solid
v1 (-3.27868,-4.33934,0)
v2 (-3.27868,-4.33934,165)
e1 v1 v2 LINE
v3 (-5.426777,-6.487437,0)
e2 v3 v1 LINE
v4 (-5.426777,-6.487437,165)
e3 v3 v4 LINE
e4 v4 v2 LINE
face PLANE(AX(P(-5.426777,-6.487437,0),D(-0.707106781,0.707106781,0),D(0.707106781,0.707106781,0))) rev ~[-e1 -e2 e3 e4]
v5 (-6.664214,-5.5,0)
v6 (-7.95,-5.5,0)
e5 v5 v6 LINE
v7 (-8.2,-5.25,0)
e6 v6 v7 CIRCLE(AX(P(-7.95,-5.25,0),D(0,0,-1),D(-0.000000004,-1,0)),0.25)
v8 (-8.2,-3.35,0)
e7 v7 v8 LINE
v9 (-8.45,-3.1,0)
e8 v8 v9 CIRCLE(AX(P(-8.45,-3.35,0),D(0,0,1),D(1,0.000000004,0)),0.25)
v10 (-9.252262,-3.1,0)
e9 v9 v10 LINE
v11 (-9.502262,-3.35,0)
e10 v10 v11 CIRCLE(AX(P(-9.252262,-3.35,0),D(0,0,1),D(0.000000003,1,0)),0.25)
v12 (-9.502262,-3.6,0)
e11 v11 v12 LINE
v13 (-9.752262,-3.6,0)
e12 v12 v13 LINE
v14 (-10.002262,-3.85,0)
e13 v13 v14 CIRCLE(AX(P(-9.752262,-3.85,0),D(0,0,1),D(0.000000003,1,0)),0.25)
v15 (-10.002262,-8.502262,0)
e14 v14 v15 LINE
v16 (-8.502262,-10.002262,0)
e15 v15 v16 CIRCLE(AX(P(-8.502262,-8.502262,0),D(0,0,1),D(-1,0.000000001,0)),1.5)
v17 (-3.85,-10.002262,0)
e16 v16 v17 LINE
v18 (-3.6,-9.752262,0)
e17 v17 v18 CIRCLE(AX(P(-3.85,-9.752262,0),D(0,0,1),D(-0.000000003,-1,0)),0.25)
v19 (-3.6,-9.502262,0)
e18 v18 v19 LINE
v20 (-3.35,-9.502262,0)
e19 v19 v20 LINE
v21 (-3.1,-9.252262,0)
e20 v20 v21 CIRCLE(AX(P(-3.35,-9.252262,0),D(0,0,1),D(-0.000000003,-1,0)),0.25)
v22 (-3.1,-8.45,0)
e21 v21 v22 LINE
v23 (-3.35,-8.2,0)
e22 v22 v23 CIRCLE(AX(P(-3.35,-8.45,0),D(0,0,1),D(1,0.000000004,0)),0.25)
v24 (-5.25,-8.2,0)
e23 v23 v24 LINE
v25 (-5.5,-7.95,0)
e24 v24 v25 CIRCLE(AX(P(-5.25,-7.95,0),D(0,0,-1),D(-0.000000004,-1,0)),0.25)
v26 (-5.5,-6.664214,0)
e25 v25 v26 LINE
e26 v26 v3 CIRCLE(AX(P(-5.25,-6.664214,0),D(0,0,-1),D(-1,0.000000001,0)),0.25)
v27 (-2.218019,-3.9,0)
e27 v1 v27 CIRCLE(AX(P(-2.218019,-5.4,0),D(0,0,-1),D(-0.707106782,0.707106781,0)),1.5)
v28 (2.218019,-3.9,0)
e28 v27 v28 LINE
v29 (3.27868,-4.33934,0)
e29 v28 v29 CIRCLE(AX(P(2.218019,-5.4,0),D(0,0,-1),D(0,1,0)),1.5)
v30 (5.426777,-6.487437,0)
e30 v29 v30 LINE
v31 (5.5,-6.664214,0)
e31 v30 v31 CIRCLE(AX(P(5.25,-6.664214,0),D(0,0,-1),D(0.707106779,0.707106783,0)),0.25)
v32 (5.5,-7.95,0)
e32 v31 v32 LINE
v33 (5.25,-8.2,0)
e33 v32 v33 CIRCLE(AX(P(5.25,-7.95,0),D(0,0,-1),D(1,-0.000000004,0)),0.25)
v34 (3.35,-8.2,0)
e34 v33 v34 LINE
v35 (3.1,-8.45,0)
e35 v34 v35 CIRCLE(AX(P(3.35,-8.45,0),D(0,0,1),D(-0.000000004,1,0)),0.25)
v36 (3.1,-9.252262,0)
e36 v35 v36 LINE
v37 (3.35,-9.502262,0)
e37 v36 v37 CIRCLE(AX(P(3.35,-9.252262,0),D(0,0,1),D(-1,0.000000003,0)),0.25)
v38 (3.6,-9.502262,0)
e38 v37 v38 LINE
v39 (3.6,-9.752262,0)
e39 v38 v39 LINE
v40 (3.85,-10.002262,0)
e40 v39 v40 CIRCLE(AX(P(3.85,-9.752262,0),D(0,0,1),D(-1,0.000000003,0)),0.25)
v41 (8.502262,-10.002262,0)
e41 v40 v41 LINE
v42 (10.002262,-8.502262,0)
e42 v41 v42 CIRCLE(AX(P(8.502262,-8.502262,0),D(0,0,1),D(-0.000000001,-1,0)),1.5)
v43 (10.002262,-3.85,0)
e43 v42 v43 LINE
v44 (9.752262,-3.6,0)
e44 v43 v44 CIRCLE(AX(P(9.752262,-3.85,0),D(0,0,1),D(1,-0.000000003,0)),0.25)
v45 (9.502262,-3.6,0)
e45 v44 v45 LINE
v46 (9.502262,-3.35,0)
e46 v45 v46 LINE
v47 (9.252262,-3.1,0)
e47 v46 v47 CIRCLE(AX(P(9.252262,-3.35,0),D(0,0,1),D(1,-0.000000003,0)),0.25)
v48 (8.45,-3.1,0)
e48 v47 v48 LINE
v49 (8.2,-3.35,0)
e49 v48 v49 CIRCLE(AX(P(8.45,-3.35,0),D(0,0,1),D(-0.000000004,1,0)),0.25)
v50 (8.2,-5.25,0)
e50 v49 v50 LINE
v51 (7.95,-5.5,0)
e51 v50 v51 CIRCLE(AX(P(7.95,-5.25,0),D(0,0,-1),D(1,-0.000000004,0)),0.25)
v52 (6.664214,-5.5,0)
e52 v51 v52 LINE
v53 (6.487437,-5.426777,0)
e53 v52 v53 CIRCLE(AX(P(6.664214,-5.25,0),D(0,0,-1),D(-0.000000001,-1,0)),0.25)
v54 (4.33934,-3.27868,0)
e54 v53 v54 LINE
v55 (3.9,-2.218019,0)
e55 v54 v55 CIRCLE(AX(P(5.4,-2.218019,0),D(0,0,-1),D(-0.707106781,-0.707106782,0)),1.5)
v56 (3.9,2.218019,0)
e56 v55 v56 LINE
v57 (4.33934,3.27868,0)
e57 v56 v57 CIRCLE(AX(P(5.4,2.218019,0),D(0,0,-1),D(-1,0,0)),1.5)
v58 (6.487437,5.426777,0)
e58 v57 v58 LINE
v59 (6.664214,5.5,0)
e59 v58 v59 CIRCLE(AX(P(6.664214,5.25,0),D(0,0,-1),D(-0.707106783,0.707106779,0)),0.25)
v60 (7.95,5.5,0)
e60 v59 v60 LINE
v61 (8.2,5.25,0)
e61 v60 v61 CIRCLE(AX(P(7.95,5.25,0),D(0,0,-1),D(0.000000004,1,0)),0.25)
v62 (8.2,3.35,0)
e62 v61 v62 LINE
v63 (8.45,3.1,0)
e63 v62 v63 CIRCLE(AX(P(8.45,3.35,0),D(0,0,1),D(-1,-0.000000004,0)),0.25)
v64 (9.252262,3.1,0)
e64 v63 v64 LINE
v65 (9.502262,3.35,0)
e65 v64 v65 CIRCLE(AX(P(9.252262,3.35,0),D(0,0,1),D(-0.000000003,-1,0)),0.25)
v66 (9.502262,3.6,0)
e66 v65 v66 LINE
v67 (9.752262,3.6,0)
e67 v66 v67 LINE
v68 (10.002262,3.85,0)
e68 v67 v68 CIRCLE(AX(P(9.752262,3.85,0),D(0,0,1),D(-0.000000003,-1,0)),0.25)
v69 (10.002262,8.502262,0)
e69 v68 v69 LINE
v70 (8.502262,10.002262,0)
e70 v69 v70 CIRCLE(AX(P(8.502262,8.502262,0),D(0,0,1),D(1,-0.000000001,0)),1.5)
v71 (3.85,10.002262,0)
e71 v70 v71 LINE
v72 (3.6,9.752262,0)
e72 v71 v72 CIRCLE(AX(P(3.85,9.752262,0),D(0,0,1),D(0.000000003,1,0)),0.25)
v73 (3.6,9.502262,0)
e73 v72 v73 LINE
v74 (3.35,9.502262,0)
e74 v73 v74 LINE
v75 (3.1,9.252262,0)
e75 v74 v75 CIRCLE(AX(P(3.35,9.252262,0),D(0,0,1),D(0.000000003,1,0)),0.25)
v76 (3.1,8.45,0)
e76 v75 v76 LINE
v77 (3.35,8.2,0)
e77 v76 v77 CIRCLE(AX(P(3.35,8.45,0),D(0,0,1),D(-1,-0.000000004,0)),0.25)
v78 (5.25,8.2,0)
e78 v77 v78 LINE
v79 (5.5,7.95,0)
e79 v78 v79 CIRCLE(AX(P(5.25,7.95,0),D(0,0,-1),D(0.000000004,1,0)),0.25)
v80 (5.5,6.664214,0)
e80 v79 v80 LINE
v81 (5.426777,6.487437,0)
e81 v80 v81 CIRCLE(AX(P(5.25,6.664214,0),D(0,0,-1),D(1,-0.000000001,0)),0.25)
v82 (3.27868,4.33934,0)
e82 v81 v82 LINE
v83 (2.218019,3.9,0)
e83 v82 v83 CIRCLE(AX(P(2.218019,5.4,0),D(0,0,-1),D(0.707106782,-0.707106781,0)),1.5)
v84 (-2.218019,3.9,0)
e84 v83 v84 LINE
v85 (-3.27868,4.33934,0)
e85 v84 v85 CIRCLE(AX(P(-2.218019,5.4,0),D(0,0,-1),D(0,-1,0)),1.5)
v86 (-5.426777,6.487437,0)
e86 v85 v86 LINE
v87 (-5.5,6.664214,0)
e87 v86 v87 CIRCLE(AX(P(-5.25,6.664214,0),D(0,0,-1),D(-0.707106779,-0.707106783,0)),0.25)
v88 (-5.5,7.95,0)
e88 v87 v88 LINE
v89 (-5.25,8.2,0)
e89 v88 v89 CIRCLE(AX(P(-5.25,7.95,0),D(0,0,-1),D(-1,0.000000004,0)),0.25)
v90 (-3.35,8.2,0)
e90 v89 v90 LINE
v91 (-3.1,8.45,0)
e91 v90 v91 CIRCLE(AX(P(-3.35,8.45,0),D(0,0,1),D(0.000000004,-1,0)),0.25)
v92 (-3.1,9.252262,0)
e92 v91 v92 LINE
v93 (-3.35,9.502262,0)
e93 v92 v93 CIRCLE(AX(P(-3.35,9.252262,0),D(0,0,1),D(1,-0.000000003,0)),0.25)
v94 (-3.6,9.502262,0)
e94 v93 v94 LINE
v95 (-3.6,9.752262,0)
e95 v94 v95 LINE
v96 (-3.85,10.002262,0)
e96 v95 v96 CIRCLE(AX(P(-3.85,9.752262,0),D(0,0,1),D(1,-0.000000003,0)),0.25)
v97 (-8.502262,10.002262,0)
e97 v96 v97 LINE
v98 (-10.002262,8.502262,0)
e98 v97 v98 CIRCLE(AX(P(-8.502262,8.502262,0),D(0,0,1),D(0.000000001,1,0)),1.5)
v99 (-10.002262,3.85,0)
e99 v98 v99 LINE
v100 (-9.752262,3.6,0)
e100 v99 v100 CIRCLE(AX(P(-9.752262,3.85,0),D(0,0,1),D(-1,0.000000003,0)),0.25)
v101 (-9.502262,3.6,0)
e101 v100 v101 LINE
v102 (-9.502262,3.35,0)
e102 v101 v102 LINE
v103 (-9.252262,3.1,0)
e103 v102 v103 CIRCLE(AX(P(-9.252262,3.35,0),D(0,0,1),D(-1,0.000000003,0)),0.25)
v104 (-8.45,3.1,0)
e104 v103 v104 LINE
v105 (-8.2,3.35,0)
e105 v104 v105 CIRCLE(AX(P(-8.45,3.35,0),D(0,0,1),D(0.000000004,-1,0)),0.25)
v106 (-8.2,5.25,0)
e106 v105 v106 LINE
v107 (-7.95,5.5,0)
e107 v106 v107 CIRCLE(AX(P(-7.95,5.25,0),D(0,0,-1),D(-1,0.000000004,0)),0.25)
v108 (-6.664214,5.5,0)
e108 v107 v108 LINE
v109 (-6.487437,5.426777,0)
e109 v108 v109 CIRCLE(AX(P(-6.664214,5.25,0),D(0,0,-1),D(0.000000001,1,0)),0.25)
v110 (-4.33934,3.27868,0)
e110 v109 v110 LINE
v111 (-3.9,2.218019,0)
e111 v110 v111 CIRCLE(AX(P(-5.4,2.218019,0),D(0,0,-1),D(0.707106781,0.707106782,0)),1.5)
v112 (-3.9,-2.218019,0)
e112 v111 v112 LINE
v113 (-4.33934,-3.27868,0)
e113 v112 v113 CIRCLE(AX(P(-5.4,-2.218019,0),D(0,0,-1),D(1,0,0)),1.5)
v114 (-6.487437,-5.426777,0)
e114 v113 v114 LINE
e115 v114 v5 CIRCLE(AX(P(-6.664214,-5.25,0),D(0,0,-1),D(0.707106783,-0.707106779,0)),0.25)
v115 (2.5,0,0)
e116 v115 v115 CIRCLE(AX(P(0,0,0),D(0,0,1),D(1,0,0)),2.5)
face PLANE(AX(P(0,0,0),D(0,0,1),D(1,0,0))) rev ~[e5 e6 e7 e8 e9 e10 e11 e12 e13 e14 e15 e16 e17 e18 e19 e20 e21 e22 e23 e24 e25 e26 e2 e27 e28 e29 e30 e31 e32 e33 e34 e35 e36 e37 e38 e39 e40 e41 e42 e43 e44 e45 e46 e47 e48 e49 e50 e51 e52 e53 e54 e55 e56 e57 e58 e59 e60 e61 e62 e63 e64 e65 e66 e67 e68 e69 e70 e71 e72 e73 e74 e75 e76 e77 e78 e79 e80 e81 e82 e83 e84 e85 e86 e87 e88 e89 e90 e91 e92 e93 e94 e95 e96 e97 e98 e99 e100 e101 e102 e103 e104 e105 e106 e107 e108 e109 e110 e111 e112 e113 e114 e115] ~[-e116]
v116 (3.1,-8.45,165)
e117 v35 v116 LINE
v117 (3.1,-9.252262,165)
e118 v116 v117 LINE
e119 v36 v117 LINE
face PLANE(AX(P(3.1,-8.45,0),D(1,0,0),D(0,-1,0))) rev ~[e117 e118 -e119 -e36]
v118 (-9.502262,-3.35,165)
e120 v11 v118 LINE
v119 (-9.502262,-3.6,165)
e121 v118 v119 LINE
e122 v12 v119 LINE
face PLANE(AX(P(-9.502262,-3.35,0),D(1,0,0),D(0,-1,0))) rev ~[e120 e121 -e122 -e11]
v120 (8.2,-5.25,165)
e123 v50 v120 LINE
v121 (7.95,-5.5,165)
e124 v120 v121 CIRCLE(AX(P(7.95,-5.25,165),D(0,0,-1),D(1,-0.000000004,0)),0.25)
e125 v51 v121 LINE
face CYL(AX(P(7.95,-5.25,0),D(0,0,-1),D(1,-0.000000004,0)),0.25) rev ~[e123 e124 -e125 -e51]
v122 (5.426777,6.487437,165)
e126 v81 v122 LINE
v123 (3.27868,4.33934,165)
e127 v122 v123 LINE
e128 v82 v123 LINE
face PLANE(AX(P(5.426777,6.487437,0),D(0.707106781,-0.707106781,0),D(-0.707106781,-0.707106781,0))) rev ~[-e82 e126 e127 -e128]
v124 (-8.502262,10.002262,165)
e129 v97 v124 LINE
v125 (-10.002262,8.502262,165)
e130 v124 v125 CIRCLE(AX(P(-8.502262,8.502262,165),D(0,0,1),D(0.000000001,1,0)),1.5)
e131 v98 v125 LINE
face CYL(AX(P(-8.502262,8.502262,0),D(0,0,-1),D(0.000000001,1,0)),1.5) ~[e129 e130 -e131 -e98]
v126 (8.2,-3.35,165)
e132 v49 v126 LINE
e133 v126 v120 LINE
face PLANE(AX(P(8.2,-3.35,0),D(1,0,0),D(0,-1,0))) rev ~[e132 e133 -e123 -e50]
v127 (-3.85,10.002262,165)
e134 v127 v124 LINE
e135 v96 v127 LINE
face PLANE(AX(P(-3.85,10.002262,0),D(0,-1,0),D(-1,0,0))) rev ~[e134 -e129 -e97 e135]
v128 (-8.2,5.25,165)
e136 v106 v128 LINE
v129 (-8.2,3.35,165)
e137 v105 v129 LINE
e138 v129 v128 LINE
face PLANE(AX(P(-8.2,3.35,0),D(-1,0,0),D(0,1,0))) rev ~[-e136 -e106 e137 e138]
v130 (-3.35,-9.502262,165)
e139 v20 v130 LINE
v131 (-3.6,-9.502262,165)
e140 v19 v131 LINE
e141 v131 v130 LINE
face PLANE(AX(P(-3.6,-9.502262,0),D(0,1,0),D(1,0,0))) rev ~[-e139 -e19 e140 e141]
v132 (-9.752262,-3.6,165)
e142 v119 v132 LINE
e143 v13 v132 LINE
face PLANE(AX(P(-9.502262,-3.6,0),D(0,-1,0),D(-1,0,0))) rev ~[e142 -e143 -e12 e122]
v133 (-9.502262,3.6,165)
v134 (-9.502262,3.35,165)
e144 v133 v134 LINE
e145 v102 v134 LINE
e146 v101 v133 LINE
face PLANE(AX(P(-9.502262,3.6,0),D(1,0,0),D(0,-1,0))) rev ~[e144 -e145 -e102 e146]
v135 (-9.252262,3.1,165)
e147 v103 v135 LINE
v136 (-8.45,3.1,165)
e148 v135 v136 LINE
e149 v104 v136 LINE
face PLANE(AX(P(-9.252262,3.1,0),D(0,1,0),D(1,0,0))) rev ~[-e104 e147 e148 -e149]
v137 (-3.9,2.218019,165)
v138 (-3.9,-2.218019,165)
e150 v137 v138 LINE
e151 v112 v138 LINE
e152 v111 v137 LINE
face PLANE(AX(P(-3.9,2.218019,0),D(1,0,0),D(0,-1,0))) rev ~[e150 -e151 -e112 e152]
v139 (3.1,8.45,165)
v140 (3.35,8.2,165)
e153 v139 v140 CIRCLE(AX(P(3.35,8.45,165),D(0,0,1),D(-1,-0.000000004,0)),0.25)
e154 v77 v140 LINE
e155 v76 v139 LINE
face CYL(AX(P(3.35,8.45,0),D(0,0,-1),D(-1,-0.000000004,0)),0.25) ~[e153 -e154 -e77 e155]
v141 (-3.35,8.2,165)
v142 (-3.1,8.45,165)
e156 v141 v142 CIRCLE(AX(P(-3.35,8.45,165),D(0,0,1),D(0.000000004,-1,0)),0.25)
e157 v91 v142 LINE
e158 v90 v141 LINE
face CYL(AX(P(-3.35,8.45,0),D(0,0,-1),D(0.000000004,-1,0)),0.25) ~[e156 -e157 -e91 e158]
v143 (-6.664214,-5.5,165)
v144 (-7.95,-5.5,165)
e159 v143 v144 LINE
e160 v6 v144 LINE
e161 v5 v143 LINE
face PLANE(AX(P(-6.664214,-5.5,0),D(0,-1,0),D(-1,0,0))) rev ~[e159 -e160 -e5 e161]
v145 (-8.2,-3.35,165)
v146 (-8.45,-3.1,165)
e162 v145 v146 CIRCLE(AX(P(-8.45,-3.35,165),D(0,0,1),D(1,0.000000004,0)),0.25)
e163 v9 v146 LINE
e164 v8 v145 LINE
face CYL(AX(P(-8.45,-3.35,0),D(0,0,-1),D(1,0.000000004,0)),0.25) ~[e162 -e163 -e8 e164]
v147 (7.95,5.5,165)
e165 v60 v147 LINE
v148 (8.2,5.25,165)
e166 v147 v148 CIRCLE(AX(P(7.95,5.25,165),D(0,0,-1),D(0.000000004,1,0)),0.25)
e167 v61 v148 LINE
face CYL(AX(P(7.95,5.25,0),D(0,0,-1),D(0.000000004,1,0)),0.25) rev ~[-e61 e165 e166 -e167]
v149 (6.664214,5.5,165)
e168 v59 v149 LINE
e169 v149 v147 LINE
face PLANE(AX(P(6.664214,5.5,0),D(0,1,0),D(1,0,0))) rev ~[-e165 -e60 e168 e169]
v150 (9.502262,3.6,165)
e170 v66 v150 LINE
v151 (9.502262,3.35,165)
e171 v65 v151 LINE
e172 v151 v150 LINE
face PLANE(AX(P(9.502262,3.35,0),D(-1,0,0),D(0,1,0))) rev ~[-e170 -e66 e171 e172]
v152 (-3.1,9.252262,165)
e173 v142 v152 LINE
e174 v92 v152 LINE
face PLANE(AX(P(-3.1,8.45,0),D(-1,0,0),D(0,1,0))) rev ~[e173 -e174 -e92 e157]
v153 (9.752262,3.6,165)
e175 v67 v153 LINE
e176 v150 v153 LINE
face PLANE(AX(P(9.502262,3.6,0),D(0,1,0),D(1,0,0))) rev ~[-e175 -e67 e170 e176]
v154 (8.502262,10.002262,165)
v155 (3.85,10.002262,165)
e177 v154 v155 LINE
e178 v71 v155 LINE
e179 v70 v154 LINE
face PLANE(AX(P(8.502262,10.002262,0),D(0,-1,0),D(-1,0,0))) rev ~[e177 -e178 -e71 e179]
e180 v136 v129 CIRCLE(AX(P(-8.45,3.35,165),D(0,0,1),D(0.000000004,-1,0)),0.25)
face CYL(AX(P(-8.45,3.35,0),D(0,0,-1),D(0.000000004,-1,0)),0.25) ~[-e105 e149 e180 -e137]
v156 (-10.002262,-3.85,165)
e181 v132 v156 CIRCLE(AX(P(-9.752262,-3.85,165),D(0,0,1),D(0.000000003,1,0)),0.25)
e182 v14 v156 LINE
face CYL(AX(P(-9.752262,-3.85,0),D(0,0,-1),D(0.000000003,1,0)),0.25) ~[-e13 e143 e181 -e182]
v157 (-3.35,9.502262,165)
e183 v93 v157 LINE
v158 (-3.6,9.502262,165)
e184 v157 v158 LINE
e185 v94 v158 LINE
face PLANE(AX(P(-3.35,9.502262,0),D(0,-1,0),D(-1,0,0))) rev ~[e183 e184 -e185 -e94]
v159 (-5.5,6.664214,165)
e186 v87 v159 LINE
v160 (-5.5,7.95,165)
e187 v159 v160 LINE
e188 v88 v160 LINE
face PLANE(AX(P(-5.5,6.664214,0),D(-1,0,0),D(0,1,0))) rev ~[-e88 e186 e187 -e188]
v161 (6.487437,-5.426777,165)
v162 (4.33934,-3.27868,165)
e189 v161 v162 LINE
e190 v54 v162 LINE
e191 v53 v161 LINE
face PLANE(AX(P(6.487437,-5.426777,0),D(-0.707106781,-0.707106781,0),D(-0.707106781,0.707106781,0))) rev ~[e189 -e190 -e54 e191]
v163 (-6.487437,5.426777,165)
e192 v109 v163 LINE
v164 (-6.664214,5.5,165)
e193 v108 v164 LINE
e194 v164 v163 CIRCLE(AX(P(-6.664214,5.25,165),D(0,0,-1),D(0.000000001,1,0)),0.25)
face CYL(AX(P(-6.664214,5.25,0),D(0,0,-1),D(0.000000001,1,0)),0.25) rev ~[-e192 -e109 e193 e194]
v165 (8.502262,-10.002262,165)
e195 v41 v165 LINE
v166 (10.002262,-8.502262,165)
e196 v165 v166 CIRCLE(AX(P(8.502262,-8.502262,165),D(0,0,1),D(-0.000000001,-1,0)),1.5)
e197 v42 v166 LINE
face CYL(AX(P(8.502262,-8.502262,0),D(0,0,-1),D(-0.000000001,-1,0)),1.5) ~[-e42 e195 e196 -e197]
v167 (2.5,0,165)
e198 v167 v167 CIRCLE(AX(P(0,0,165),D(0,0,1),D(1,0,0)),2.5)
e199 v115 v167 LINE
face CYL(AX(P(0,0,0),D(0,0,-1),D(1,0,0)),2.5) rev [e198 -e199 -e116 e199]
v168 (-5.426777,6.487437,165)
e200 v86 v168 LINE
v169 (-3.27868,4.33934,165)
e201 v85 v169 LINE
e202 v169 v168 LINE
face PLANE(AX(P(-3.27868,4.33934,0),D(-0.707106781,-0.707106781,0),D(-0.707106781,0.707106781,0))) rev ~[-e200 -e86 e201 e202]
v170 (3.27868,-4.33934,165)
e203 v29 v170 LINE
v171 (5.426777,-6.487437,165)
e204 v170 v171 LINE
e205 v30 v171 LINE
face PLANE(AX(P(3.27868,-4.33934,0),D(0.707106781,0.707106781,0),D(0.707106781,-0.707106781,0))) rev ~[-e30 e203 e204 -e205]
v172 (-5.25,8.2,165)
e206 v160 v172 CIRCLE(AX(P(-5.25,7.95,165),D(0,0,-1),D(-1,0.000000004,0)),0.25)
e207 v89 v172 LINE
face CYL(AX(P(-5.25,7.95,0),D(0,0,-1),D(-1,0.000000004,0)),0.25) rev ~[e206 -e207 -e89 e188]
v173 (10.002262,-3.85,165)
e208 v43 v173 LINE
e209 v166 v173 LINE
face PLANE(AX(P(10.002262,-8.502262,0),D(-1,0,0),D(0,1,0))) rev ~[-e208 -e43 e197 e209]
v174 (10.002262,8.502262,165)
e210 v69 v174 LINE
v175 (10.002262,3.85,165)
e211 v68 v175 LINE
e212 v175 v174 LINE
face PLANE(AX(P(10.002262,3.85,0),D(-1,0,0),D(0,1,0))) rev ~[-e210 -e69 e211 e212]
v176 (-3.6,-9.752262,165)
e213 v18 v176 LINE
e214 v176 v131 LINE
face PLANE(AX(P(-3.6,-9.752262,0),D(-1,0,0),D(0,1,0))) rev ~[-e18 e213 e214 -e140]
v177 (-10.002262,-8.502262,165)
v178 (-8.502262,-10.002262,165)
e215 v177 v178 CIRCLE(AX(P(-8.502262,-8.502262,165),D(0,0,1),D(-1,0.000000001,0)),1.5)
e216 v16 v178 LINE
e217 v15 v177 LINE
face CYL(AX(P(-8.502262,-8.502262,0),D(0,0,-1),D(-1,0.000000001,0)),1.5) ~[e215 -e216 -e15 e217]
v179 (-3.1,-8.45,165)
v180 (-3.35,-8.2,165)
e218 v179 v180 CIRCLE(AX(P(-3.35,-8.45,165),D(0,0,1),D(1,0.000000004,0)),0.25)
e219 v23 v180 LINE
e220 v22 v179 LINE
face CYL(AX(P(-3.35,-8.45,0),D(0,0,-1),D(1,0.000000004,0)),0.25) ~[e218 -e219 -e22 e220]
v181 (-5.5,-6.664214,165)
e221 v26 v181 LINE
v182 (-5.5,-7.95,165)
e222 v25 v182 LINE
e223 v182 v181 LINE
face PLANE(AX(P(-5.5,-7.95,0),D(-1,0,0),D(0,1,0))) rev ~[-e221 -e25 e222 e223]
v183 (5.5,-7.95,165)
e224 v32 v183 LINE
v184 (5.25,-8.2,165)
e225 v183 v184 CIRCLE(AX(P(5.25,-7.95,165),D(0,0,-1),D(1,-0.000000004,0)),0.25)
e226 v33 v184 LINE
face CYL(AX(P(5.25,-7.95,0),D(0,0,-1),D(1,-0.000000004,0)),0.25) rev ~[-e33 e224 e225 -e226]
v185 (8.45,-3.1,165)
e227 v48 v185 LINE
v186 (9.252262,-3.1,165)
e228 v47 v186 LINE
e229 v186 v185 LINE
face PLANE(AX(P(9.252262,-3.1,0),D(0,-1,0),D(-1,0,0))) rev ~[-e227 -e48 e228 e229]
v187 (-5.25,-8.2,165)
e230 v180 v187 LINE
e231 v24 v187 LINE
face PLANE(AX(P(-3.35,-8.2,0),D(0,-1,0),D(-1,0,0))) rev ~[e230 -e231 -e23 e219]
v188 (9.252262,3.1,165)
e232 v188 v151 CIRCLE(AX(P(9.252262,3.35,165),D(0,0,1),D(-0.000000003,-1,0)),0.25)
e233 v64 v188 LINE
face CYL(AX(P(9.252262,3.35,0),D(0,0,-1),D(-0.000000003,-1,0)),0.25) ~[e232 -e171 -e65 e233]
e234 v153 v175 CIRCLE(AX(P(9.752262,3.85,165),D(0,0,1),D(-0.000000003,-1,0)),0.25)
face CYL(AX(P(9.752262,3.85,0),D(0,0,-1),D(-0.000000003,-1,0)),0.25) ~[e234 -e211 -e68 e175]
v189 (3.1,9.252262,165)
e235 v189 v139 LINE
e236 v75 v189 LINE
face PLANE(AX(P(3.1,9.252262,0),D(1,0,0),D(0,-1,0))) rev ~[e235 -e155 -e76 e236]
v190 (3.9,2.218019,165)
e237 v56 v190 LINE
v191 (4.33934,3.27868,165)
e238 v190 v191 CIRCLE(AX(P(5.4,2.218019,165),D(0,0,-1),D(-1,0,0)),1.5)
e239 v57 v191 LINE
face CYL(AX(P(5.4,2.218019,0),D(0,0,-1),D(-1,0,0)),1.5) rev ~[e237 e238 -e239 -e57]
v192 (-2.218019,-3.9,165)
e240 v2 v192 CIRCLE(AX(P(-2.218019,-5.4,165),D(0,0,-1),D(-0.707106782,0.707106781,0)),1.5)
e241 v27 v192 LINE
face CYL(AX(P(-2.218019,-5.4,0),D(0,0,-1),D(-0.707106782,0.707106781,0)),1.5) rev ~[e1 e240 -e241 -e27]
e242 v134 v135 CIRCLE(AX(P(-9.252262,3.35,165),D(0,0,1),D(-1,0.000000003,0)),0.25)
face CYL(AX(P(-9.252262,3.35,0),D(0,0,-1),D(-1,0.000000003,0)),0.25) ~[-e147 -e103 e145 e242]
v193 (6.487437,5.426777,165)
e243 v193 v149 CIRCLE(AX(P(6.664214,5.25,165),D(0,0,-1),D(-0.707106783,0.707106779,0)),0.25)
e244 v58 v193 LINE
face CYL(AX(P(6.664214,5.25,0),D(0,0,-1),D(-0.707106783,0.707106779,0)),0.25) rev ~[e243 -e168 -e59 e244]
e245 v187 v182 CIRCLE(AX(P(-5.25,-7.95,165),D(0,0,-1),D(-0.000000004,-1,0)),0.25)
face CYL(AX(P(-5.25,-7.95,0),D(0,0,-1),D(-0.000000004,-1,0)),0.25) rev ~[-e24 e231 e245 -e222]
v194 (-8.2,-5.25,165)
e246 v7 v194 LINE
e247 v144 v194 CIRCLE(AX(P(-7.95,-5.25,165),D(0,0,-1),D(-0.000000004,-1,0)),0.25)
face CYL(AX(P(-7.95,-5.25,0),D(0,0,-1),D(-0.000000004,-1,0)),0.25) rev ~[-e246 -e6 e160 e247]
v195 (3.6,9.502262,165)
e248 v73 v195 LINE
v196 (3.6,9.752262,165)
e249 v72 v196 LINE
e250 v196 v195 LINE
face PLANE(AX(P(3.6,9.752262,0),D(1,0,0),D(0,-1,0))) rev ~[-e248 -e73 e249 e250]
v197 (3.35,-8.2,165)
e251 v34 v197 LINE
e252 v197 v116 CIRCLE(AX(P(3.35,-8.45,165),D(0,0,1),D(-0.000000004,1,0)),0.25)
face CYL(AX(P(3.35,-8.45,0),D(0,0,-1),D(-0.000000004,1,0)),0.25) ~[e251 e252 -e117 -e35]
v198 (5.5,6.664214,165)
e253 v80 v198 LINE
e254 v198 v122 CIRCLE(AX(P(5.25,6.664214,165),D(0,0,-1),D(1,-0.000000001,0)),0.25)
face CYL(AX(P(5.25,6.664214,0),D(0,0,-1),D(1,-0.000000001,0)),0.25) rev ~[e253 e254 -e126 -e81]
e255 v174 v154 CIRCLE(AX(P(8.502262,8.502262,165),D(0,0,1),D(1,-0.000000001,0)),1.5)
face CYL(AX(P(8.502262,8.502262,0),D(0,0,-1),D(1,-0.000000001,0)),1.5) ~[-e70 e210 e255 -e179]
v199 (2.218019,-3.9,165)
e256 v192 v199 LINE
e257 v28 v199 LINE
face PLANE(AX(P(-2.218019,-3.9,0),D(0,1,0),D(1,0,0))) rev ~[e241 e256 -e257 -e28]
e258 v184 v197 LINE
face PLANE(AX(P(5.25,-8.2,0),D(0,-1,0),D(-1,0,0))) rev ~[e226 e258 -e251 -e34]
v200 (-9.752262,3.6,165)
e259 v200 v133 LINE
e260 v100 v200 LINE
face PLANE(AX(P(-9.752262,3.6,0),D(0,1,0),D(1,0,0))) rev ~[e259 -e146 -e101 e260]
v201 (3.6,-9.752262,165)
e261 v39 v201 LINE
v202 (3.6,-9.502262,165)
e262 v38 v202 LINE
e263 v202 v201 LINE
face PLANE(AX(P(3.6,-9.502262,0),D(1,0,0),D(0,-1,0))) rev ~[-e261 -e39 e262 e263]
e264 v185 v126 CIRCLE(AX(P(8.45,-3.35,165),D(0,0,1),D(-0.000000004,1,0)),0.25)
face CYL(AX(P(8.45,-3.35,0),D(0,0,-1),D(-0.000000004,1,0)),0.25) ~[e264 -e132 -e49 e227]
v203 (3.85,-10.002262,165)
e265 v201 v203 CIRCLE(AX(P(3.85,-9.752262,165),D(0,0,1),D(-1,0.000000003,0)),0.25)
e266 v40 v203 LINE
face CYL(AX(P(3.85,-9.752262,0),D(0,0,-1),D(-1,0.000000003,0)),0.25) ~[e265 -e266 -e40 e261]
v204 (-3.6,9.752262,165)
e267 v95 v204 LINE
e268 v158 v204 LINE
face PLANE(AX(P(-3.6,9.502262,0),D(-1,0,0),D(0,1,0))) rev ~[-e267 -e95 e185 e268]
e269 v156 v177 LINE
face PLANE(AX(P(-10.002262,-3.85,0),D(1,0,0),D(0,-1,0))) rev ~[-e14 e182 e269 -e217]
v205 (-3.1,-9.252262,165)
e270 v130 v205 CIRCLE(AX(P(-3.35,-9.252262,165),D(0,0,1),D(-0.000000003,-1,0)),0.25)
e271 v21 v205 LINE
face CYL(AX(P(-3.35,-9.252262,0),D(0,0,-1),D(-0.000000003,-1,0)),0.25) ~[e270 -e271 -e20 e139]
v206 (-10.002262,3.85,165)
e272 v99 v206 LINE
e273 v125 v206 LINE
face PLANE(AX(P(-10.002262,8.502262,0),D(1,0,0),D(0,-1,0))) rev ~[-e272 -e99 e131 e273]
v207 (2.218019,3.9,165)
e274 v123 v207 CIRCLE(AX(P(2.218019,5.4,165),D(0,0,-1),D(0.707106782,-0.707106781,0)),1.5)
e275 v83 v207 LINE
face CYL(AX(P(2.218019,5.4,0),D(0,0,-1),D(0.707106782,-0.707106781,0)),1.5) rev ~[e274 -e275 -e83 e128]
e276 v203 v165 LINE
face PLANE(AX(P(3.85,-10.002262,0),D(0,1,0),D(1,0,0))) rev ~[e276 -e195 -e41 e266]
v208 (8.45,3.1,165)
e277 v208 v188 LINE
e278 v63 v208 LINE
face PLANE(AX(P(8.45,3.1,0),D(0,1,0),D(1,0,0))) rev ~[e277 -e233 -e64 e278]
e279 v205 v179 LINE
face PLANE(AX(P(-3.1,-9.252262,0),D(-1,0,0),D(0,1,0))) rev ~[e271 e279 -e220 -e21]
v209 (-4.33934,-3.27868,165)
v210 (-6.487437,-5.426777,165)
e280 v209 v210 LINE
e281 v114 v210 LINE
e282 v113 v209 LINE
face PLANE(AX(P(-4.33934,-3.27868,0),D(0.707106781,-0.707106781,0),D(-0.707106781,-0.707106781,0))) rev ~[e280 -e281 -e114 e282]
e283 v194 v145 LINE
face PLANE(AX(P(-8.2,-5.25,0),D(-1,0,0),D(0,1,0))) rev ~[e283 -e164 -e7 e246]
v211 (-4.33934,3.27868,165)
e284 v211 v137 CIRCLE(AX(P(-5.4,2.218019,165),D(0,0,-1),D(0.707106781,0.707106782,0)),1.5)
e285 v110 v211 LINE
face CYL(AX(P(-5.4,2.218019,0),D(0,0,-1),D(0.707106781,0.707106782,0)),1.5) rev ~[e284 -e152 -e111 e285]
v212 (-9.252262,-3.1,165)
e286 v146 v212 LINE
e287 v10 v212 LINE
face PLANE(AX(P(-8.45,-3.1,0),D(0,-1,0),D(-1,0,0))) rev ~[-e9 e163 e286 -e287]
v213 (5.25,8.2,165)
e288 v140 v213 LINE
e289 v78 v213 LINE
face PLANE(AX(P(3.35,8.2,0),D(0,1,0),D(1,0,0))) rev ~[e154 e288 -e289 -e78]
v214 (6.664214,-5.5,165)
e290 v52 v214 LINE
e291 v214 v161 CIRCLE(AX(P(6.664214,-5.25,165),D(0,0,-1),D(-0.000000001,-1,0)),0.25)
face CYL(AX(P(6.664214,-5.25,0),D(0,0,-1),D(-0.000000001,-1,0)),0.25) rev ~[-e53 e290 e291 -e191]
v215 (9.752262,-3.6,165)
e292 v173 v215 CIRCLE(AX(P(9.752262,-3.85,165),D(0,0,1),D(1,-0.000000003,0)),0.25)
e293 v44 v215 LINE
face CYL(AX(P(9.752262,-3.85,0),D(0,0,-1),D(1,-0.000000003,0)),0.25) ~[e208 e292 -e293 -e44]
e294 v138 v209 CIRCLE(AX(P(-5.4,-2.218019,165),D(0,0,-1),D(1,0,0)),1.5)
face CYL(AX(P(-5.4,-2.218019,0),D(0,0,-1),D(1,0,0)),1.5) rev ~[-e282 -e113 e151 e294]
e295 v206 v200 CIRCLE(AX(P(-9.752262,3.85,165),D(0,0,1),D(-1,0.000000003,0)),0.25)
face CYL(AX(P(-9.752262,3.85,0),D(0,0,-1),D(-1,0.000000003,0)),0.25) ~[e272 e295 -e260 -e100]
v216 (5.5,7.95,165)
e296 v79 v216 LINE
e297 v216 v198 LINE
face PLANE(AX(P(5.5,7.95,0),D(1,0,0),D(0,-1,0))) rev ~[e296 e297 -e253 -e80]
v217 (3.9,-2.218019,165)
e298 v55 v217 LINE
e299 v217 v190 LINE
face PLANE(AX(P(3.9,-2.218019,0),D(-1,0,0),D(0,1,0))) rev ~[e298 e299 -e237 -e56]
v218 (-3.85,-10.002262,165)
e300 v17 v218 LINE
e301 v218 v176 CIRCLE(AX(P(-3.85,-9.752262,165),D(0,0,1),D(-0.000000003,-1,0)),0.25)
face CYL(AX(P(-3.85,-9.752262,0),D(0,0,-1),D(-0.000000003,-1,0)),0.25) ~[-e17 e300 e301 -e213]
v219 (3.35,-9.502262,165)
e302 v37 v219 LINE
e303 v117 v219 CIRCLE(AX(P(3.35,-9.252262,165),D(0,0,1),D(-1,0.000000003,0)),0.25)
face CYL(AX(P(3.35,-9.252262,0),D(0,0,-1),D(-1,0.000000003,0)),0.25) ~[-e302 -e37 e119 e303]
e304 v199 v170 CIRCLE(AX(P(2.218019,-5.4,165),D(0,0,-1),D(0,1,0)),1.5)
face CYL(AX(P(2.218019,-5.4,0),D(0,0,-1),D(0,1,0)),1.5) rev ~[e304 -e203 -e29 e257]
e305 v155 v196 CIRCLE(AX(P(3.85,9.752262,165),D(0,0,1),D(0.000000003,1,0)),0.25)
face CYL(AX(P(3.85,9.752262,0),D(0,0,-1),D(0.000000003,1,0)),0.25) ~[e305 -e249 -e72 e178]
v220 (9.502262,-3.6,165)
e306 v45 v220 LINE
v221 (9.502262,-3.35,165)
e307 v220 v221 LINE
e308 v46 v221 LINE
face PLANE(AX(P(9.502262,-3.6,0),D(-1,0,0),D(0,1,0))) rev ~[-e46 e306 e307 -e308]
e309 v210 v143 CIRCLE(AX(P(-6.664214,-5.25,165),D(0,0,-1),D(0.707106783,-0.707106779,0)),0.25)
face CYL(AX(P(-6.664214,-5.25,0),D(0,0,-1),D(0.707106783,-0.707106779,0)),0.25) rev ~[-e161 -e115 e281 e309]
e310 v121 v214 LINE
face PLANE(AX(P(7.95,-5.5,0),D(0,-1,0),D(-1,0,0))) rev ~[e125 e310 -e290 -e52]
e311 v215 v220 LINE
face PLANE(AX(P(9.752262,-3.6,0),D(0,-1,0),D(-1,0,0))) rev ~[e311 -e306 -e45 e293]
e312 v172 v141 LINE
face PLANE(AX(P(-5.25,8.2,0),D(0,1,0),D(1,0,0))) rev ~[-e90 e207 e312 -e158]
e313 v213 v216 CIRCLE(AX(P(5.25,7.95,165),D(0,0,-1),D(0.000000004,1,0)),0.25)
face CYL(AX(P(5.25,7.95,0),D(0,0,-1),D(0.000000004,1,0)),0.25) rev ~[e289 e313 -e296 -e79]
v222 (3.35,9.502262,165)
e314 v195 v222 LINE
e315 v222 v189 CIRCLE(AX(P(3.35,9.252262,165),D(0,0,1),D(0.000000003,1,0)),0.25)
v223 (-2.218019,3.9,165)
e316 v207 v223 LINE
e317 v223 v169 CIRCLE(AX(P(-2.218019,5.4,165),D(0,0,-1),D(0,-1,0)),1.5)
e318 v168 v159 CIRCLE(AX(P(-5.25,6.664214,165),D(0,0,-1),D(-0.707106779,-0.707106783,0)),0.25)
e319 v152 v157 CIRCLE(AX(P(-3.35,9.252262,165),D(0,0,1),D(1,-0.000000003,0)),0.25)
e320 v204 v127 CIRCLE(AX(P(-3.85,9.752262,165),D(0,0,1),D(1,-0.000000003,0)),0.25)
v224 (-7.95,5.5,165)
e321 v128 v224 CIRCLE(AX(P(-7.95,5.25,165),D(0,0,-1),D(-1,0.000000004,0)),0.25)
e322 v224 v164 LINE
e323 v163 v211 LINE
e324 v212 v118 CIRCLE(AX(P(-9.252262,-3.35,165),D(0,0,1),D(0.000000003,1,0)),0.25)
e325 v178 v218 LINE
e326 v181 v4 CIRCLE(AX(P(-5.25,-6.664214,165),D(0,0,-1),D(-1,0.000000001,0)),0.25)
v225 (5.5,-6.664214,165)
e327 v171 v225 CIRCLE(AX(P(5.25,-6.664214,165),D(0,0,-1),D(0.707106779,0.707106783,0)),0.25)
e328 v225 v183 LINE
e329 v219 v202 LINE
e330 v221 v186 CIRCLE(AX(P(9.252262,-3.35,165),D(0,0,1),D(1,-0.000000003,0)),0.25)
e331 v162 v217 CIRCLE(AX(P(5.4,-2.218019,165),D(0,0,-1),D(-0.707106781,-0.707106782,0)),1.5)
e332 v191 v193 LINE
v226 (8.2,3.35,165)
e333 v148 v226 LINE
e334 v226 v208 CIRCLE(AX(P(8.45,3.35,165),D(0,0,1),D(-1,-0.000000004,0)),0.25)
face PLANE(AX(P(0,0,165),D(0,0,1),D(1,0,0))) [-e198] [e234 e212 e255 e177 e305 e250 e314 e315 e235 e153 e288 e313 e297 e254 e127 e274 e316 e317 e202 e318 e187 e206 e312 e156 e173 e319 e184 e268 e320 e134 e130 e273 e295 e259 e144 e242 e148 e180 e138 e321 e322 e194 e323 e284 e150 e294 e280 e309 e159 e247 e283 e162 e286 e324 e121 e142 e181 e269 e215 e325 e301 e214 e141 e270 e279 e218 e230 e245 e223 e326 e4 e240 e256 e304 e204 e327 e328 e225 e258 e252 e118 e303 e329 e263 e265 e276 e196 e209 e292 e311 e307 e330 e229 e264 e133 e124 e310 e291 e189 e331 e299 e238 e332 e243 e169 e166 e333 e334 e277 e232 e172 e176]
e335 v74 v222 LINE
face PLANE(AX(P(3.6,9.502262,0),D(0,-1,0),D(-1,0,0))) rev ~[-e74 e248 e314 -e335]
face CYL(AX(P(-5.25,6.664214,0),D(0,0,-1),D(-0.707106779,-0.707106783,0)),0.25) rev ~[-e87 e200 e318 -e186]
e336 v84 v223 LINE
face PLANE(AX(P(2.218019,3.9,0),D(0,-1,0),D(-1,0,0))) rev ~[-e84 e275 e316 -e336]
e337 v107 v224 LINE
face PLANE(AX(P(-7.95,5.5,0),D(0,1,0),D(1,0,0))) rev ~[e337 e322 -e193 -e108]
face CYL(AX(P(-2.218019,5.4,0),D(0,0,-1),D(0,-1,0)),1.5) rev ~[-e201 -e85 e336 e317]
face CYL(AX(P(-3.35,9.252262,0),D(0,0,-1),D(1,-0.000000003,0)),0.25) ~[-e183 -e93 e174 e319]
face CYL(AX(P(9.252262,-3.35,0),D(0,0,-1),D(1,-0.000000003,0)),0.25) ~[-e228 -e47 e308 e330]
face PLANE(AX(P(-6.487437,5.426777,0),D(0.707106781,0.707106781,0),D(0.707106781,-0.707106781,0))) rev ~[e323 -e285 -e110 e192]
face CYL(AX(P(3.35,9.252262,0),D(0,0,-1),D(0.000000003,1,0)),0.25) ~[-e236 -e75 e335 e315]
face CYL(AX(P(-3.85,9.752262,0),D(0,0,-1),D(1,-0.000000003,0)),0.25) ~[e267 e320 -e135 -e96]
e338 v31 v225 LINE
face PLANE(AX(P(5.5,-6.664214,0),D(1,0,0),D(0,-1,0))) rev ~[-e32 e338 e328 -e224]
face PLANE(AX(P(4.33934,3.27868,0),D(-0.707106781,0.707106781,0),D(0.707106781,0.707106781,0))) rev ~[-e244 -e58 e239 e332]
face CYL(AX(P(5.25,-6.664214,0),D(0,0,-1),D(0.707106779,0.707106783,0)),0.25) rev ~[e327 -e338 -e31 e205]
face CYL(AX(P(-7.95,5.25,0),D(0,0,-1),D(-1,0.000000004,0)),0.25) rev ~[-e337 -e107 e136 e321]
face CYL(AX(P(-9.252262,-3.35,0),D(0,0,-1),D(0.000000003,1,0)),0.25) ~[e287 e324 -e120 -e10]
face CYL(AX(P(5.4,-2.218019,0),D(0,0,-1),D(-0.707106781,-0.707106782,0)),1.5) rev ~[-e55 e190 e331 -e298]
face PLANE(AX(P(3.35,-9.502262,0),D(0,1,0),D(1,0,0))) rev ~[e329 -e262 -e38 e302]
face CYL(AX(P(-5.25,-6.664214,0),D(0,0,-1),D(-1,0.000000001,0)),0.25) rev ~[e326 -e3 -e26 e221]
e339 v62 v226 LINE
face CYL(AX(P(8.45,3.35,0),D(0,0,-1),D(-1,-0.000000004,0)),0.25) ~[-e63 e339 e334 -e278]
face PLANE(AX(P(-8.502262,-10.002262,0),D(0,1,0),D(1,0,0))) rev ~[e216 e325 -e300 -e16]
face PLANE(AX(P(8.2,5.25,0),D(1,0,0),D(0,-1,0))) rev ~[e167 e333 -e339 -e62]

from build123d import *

# Parameters (mm, degrees)
SKETCH_1_R      = 2.5
EXTRUDE_1_DEPTH = 165


with BuildPart() as part:
    # 草图1 → 凸台-拉伸1 (new body)
    with BuildSketch(Plane.XY):
        with BuildLine():
            Line((-8.502261885, -10.002261885), (-3.85, -10.002261885))
            ThreePointArc((-3.85, -10.002261885), (-3.673223305, -9.929038581), (-3.6, -9.752261885))
            Line((-3.6, -9.752261885), (-3.6, -9.502261885))
            Line((-3.6, -9.502261885), (-3.35, -9.502261885))
            ThreePointArc((-3.35, -9.502261885), (-3.173223305, -9.429038581), (-3.1, -9.252261885))
            Line((-3.1, -9.252261885), (-3.1, -8.45))
            ThreePointArc((-3.1, -8.45), (-3.173223305, -8.273223305), (-3.35, -8.2))
            Line((-3.35, -8.2), (-5.25, -8.2))
            ThreePointArc((-5.25, -8.2), (-5.426776695, -8.126776695), (-5.5, -7.95))
            Line((-5.5, -7.95), (-5.5, -6.664213562))
            ThreePointArc((-5.5, -6.664213562), (-5.480969883, -6.568542704), (-5.426776695, -6.487436867))
            Line((-5.426776695, -6.487436867), (-3.278679656, -4.339339828))
            ThreePointArc((-3.278679656, -4.339339828), (-2.792044633, -4.014180701), (-2.218019485, -3.9))
            Line((-2.218019485, -3.9), (2.218019485, -3.9))
            ThreePointArc((2.218019485, -3.9), (2.792044633, -4.014180701), (3.278679656, -4.339339828))
            Line((3.278679656, -4.339339828), (5.426776695, -6.487436867))
            ThreePointArc((5.426776695, -6.487436867), (5.480969883, -6.568542704), (5.5, -6.664213562))
            Line((5.5, -6.664213562), (5.5, -7.95))
            ThreePointArc((5.5, -7.95), (5.426776695, -8.126776695), (5.25, -8.2))
            Line((5.25, -8.2), (3.35, -8.2))
            ThreePointArc((3.35, -8.2), (3.173223305, -8.273223305), (3.1, -8.45))
            Line((3.1, -8.45), (3.1, -9.252261885))
            ThreePointArc((3.1, -9.252261885), (3.173223305, -9.429038581), (3.35, -9.502261885))
            Line((3.35, -9.502261885), (3.6, -9.502261885))
            Line((3.6, -9.502261885), (3.6, -9.752261885))
            ThreePointArc((3.6, -9.752261885), (3.673223305, -9.929038581), (3.85, -10.002261885))
            Line((3.85, -10.002261885), (8.502261885, -10.002261885))
            ThreePointArc((8.502261885, -10.002261885), (9.562922057, -9.562922057), (10.002261885, -8.502261885))
            Line((10.002261885, -8.502261885), (10.002261885, -3.85))
            ThreePointArc((10.002261885, -3.85), (9.929038581, -3.673223305), (9.752261885, -3.6))
            Line((9.752261885, -3.6), (9.502261885, -3.6))
            Line((9.502261885, -3.6), (9.502261885, -3.35))
            ThreePointArc((9.502261885, -3.35), (9.429038581, -3.173223305), (9.252261885, -3.1))
            Line((9.252261885, -3.1), (8.45, -3.1))
            ThreePointArc((8.45, -3.1), (8.273223305, -3.173223305), (8.2, -3.35))
            Line((8.2, -3.35), (8.2, -5.25))
            ThreePointArc((8.2, -5.25), (8.126776695, -5.426776695), (7.95, -5.5))
            Line((7.95, -5.5), (6.664213562, -5.5))
            ThreePointArc((6.664213562, -5.5), (6.568542704, -5.480969883), (6.487436867, -5.426776695))
            Line((6.487436867, -5.426776695), (4.339339828, -3.278679656))
            ThreePointArc((4.339339828, -3.278679656), (4.014180701, -2.792044633), (3.9, -2.218019485))
            Line((3.9, -2.218019485), (3.9, 2.218019485))
            ThreePointArc((3.9, 2.218019485), (4.014180701, 2.792044633), (4.339339828, 3.278679656))
            Line((4.339339828, 3.278679656), (6.487436867, 5.426776695))
            ThreePointArc((6.487436867, 5.426776695), (6.568542704, 5.480969883), (6.664213562, 5.5))
            Line((6.664213562, 5.5), (7.95, 5.5))
            ThreePointArc((7.95, 5.5), (8.126776695, 5.426776695), (8.2, 5.25))
            Line((8.2, 5.25), (8.2, 3.35))
            ThreePointArc((8.2, 3.35), (8.273223305, 3.173223305), (8.45, 3.1))
            Line((8.45, 3.1), (9.252261885, 3.1))
            ThreePointArc((9.252261885, 3.1), (9.429038581, 3.173223305), (9.502261885, 3.35))
            Line((9.502261885, 3.35), (9.502261885, 3.6))
            Line((9.502261885, 3.6), (9.752261885, 3.6))
            ThreePointArc((9.752261885, 3.6), (9.929038581, 3.673223305), (10.002261885, 3.85))
            Line((10.002261885, 3.85), (10.002261885, 8.502261885))
            ThreePointArc((10.002261885, 8.502261885), (9.562922057, 9.562922057), (8.502261885, 10.002261885))
            Line((8.502261885, 10.002261885), (3.85, 10.002261885))
            ThreePointArc((3.85, 10.002261885), (3.673223305, 9.929038581), (3.6, 9.752261885))
            Line((3.6, 9.752261885), (3.6, 9.502261885))
            Line((3.6, 9.502261885), (3.35, 9.502261885))
            ThreePointArc((3.35, 9.502261885), (3.173223305, 9.429038581), (3.1, 9.252261885))
            Line((3.1, 9.252261885), (3.1, 8.45))
            ThreePointArc((3.1, 8.45), (3.173223305, 8.273223305), (3.35, 8.2))
            Line((3.35, 8.2), (5.25, 8.2))
            ThreePointArc((5.25, 8.2), (5.426776695, 8.126776695), (5.5, 7.95))
            Line((5.5, 7.95), (5.5, 6.664213562))
            ThreePointArc((5.5, 6.664213562), (5.480969883, 6.568542704), (5.426776695, 6.487436867))
            Line((5.426776695, 6.487436867), (3.278679656, 4.339339828))
            ThreePointArc((3.278679656, 4.339339828), (2.792044633, 4.014180701), (2.218019485, 3.9))
            Line((2.218019485, 3.9), (-2.218019485, 3.9))
            ThreePointArc((-2.218019485, 3.9), (-2.792044633, 4.014180701), (-3.278679656, 4.339339828))
            Line((-3.278679656, 4.339339828), (-5.426776695, 6.487436867))
            ThreePointArc((-5.426776695, 6.487436867), (-5.480969883, 6.568542704), (-5.5, 6.664213562))
            Line((-5.5, 6.664213562), (-5.5, 7.95))
            ThreePointArc((-5.5, 7.95), (-5.426776695, 8.126776695), (-5.25, 8.2))
            Line((-5.25, 8.2), (-3.35, 8.2))
            ThreePointArc((-3.35, 8.2), (-3.173223305, 8.273223305), (-3.1, 8.45))
            Line((-3.1, 8.45), (-3.1, 9.252261885))
            ThreePointArc((-3.1, 9.252261885), (-3.173223305, 9.429038581), (-3.35, 9.502261885))
            Line((-3.35, 9.502261885), (-3.6, 9.502261885))
            Line((-3.6, 9.502261885), (-3.6, 9.752261885))
            ThreePointArc((-3.6, 9.752261885), (-3.673223305, 9.929038581), (-3.85, 10.002261885))
            Line((-3.85, 10.002261885), (-8.502261885, 10.002261885))
            ThreePointArc((-8.502261885, 10.002261885), (-9.562922057, 9.562922057), (-10.002261885, 8.502261885))
            Line((-10.002261885, 8.502261885), (-10.002261885, 3.85))
            ThreePointArc((-10.002261885, 3.85), (-9.929038581, 3.673223305), (-9.752261885, 3.6))
            Line((-9.752261885, 3.6), (-9.502261885, 3.6))
            Line((-9.502261885, 3.6), (-9.502261885, 3.35))
            ThreePointArc((-9.502261885, 3.35), (-9.429038581, 3.173223305), (-9.252261885, 3.1))
            Line((-9.252261885, 3.1), (-8.45, 3.1))
            ThreePointArc((-8.45, 3.1), (-8.273223305, 3.173223305), (-8.2, 3.35))
            Line((-8.2, 3.35), (-8.2, 5.25))
            ThreePointArc((-8.2, 5.25), (-8.126776695, 5.426776695), (-7.95, 5.5))
            Line((-7.95, 5.5), (-6.664213562, 5.5))
            ThreePointArc((-6.664213562, 5.5), (-6.568542704, 5.480969883), (-6.487436867, 5.426776695))
            Line((-6.487436867, 5.426776695), (-4.339339828, 3.278679656))
            ThreePointArc((-4.339339828, 3.278679656), (-4.014180701, 2.792044633), (-3.9, 2.218019485))
            Line((-3.9, 2.218019485), (-3.9, -2.218019485))
            ThreePointArc((-3.9, -2.218019485), (-4.014180701, -2.792044633), (-4.339339828, -3.278679656))
            Line((-4.339339828, -3.278679656), (-6.487436867, -5.426776695))
            ThreePointArc((-6.487436867, -5.426776695), (-6.568542704, -5.480969883), (-6.664213562, -5.5))
            Line((-6.664213562, -5.5), (-7.95, -5.5))
            ThreePointArc((-7.95, -5.5), (-8.126776695, -5.426776695), (-8.2, -5.25))
            Line((-8.2, -5.25), (-8.2, -3.35))
            ThreePointArc((-8.2, -3.35), (-8.273223305, -3.173223305), (-8.45, -3.1))
            Line((-8.45, -3.1), (-9.252261885, -3.1))
            ThreePointArc((-9.252261885, -3.1), (-9.429038581, -3.173223305), (-9.502261885, -3.35))
            Line((-9.502261885, -3.35), (-9.502261885, -3.6))
            Line((-9.502261885, -3.6), (-9.752261885, -3.6))
            ThreePointArc((-9.752261885, -3.6), (-9.929038581, -3.673223305), (-10.002261885, -3.85))
            Line((-10.002261885, -3.85), (-10.002261885, -8.502261885))
            ThreePointArc((-10.002261885, -8.502261885), (-9.562922057, -9.562922057), (-8.502261885, -10.002261885))
        make_face()
        Circle(SKETCH_1_R, mode=Mode.SUBTRACT)
    extrude(amount=EXTRUDE_1_DEPTH)


solid = part.part
